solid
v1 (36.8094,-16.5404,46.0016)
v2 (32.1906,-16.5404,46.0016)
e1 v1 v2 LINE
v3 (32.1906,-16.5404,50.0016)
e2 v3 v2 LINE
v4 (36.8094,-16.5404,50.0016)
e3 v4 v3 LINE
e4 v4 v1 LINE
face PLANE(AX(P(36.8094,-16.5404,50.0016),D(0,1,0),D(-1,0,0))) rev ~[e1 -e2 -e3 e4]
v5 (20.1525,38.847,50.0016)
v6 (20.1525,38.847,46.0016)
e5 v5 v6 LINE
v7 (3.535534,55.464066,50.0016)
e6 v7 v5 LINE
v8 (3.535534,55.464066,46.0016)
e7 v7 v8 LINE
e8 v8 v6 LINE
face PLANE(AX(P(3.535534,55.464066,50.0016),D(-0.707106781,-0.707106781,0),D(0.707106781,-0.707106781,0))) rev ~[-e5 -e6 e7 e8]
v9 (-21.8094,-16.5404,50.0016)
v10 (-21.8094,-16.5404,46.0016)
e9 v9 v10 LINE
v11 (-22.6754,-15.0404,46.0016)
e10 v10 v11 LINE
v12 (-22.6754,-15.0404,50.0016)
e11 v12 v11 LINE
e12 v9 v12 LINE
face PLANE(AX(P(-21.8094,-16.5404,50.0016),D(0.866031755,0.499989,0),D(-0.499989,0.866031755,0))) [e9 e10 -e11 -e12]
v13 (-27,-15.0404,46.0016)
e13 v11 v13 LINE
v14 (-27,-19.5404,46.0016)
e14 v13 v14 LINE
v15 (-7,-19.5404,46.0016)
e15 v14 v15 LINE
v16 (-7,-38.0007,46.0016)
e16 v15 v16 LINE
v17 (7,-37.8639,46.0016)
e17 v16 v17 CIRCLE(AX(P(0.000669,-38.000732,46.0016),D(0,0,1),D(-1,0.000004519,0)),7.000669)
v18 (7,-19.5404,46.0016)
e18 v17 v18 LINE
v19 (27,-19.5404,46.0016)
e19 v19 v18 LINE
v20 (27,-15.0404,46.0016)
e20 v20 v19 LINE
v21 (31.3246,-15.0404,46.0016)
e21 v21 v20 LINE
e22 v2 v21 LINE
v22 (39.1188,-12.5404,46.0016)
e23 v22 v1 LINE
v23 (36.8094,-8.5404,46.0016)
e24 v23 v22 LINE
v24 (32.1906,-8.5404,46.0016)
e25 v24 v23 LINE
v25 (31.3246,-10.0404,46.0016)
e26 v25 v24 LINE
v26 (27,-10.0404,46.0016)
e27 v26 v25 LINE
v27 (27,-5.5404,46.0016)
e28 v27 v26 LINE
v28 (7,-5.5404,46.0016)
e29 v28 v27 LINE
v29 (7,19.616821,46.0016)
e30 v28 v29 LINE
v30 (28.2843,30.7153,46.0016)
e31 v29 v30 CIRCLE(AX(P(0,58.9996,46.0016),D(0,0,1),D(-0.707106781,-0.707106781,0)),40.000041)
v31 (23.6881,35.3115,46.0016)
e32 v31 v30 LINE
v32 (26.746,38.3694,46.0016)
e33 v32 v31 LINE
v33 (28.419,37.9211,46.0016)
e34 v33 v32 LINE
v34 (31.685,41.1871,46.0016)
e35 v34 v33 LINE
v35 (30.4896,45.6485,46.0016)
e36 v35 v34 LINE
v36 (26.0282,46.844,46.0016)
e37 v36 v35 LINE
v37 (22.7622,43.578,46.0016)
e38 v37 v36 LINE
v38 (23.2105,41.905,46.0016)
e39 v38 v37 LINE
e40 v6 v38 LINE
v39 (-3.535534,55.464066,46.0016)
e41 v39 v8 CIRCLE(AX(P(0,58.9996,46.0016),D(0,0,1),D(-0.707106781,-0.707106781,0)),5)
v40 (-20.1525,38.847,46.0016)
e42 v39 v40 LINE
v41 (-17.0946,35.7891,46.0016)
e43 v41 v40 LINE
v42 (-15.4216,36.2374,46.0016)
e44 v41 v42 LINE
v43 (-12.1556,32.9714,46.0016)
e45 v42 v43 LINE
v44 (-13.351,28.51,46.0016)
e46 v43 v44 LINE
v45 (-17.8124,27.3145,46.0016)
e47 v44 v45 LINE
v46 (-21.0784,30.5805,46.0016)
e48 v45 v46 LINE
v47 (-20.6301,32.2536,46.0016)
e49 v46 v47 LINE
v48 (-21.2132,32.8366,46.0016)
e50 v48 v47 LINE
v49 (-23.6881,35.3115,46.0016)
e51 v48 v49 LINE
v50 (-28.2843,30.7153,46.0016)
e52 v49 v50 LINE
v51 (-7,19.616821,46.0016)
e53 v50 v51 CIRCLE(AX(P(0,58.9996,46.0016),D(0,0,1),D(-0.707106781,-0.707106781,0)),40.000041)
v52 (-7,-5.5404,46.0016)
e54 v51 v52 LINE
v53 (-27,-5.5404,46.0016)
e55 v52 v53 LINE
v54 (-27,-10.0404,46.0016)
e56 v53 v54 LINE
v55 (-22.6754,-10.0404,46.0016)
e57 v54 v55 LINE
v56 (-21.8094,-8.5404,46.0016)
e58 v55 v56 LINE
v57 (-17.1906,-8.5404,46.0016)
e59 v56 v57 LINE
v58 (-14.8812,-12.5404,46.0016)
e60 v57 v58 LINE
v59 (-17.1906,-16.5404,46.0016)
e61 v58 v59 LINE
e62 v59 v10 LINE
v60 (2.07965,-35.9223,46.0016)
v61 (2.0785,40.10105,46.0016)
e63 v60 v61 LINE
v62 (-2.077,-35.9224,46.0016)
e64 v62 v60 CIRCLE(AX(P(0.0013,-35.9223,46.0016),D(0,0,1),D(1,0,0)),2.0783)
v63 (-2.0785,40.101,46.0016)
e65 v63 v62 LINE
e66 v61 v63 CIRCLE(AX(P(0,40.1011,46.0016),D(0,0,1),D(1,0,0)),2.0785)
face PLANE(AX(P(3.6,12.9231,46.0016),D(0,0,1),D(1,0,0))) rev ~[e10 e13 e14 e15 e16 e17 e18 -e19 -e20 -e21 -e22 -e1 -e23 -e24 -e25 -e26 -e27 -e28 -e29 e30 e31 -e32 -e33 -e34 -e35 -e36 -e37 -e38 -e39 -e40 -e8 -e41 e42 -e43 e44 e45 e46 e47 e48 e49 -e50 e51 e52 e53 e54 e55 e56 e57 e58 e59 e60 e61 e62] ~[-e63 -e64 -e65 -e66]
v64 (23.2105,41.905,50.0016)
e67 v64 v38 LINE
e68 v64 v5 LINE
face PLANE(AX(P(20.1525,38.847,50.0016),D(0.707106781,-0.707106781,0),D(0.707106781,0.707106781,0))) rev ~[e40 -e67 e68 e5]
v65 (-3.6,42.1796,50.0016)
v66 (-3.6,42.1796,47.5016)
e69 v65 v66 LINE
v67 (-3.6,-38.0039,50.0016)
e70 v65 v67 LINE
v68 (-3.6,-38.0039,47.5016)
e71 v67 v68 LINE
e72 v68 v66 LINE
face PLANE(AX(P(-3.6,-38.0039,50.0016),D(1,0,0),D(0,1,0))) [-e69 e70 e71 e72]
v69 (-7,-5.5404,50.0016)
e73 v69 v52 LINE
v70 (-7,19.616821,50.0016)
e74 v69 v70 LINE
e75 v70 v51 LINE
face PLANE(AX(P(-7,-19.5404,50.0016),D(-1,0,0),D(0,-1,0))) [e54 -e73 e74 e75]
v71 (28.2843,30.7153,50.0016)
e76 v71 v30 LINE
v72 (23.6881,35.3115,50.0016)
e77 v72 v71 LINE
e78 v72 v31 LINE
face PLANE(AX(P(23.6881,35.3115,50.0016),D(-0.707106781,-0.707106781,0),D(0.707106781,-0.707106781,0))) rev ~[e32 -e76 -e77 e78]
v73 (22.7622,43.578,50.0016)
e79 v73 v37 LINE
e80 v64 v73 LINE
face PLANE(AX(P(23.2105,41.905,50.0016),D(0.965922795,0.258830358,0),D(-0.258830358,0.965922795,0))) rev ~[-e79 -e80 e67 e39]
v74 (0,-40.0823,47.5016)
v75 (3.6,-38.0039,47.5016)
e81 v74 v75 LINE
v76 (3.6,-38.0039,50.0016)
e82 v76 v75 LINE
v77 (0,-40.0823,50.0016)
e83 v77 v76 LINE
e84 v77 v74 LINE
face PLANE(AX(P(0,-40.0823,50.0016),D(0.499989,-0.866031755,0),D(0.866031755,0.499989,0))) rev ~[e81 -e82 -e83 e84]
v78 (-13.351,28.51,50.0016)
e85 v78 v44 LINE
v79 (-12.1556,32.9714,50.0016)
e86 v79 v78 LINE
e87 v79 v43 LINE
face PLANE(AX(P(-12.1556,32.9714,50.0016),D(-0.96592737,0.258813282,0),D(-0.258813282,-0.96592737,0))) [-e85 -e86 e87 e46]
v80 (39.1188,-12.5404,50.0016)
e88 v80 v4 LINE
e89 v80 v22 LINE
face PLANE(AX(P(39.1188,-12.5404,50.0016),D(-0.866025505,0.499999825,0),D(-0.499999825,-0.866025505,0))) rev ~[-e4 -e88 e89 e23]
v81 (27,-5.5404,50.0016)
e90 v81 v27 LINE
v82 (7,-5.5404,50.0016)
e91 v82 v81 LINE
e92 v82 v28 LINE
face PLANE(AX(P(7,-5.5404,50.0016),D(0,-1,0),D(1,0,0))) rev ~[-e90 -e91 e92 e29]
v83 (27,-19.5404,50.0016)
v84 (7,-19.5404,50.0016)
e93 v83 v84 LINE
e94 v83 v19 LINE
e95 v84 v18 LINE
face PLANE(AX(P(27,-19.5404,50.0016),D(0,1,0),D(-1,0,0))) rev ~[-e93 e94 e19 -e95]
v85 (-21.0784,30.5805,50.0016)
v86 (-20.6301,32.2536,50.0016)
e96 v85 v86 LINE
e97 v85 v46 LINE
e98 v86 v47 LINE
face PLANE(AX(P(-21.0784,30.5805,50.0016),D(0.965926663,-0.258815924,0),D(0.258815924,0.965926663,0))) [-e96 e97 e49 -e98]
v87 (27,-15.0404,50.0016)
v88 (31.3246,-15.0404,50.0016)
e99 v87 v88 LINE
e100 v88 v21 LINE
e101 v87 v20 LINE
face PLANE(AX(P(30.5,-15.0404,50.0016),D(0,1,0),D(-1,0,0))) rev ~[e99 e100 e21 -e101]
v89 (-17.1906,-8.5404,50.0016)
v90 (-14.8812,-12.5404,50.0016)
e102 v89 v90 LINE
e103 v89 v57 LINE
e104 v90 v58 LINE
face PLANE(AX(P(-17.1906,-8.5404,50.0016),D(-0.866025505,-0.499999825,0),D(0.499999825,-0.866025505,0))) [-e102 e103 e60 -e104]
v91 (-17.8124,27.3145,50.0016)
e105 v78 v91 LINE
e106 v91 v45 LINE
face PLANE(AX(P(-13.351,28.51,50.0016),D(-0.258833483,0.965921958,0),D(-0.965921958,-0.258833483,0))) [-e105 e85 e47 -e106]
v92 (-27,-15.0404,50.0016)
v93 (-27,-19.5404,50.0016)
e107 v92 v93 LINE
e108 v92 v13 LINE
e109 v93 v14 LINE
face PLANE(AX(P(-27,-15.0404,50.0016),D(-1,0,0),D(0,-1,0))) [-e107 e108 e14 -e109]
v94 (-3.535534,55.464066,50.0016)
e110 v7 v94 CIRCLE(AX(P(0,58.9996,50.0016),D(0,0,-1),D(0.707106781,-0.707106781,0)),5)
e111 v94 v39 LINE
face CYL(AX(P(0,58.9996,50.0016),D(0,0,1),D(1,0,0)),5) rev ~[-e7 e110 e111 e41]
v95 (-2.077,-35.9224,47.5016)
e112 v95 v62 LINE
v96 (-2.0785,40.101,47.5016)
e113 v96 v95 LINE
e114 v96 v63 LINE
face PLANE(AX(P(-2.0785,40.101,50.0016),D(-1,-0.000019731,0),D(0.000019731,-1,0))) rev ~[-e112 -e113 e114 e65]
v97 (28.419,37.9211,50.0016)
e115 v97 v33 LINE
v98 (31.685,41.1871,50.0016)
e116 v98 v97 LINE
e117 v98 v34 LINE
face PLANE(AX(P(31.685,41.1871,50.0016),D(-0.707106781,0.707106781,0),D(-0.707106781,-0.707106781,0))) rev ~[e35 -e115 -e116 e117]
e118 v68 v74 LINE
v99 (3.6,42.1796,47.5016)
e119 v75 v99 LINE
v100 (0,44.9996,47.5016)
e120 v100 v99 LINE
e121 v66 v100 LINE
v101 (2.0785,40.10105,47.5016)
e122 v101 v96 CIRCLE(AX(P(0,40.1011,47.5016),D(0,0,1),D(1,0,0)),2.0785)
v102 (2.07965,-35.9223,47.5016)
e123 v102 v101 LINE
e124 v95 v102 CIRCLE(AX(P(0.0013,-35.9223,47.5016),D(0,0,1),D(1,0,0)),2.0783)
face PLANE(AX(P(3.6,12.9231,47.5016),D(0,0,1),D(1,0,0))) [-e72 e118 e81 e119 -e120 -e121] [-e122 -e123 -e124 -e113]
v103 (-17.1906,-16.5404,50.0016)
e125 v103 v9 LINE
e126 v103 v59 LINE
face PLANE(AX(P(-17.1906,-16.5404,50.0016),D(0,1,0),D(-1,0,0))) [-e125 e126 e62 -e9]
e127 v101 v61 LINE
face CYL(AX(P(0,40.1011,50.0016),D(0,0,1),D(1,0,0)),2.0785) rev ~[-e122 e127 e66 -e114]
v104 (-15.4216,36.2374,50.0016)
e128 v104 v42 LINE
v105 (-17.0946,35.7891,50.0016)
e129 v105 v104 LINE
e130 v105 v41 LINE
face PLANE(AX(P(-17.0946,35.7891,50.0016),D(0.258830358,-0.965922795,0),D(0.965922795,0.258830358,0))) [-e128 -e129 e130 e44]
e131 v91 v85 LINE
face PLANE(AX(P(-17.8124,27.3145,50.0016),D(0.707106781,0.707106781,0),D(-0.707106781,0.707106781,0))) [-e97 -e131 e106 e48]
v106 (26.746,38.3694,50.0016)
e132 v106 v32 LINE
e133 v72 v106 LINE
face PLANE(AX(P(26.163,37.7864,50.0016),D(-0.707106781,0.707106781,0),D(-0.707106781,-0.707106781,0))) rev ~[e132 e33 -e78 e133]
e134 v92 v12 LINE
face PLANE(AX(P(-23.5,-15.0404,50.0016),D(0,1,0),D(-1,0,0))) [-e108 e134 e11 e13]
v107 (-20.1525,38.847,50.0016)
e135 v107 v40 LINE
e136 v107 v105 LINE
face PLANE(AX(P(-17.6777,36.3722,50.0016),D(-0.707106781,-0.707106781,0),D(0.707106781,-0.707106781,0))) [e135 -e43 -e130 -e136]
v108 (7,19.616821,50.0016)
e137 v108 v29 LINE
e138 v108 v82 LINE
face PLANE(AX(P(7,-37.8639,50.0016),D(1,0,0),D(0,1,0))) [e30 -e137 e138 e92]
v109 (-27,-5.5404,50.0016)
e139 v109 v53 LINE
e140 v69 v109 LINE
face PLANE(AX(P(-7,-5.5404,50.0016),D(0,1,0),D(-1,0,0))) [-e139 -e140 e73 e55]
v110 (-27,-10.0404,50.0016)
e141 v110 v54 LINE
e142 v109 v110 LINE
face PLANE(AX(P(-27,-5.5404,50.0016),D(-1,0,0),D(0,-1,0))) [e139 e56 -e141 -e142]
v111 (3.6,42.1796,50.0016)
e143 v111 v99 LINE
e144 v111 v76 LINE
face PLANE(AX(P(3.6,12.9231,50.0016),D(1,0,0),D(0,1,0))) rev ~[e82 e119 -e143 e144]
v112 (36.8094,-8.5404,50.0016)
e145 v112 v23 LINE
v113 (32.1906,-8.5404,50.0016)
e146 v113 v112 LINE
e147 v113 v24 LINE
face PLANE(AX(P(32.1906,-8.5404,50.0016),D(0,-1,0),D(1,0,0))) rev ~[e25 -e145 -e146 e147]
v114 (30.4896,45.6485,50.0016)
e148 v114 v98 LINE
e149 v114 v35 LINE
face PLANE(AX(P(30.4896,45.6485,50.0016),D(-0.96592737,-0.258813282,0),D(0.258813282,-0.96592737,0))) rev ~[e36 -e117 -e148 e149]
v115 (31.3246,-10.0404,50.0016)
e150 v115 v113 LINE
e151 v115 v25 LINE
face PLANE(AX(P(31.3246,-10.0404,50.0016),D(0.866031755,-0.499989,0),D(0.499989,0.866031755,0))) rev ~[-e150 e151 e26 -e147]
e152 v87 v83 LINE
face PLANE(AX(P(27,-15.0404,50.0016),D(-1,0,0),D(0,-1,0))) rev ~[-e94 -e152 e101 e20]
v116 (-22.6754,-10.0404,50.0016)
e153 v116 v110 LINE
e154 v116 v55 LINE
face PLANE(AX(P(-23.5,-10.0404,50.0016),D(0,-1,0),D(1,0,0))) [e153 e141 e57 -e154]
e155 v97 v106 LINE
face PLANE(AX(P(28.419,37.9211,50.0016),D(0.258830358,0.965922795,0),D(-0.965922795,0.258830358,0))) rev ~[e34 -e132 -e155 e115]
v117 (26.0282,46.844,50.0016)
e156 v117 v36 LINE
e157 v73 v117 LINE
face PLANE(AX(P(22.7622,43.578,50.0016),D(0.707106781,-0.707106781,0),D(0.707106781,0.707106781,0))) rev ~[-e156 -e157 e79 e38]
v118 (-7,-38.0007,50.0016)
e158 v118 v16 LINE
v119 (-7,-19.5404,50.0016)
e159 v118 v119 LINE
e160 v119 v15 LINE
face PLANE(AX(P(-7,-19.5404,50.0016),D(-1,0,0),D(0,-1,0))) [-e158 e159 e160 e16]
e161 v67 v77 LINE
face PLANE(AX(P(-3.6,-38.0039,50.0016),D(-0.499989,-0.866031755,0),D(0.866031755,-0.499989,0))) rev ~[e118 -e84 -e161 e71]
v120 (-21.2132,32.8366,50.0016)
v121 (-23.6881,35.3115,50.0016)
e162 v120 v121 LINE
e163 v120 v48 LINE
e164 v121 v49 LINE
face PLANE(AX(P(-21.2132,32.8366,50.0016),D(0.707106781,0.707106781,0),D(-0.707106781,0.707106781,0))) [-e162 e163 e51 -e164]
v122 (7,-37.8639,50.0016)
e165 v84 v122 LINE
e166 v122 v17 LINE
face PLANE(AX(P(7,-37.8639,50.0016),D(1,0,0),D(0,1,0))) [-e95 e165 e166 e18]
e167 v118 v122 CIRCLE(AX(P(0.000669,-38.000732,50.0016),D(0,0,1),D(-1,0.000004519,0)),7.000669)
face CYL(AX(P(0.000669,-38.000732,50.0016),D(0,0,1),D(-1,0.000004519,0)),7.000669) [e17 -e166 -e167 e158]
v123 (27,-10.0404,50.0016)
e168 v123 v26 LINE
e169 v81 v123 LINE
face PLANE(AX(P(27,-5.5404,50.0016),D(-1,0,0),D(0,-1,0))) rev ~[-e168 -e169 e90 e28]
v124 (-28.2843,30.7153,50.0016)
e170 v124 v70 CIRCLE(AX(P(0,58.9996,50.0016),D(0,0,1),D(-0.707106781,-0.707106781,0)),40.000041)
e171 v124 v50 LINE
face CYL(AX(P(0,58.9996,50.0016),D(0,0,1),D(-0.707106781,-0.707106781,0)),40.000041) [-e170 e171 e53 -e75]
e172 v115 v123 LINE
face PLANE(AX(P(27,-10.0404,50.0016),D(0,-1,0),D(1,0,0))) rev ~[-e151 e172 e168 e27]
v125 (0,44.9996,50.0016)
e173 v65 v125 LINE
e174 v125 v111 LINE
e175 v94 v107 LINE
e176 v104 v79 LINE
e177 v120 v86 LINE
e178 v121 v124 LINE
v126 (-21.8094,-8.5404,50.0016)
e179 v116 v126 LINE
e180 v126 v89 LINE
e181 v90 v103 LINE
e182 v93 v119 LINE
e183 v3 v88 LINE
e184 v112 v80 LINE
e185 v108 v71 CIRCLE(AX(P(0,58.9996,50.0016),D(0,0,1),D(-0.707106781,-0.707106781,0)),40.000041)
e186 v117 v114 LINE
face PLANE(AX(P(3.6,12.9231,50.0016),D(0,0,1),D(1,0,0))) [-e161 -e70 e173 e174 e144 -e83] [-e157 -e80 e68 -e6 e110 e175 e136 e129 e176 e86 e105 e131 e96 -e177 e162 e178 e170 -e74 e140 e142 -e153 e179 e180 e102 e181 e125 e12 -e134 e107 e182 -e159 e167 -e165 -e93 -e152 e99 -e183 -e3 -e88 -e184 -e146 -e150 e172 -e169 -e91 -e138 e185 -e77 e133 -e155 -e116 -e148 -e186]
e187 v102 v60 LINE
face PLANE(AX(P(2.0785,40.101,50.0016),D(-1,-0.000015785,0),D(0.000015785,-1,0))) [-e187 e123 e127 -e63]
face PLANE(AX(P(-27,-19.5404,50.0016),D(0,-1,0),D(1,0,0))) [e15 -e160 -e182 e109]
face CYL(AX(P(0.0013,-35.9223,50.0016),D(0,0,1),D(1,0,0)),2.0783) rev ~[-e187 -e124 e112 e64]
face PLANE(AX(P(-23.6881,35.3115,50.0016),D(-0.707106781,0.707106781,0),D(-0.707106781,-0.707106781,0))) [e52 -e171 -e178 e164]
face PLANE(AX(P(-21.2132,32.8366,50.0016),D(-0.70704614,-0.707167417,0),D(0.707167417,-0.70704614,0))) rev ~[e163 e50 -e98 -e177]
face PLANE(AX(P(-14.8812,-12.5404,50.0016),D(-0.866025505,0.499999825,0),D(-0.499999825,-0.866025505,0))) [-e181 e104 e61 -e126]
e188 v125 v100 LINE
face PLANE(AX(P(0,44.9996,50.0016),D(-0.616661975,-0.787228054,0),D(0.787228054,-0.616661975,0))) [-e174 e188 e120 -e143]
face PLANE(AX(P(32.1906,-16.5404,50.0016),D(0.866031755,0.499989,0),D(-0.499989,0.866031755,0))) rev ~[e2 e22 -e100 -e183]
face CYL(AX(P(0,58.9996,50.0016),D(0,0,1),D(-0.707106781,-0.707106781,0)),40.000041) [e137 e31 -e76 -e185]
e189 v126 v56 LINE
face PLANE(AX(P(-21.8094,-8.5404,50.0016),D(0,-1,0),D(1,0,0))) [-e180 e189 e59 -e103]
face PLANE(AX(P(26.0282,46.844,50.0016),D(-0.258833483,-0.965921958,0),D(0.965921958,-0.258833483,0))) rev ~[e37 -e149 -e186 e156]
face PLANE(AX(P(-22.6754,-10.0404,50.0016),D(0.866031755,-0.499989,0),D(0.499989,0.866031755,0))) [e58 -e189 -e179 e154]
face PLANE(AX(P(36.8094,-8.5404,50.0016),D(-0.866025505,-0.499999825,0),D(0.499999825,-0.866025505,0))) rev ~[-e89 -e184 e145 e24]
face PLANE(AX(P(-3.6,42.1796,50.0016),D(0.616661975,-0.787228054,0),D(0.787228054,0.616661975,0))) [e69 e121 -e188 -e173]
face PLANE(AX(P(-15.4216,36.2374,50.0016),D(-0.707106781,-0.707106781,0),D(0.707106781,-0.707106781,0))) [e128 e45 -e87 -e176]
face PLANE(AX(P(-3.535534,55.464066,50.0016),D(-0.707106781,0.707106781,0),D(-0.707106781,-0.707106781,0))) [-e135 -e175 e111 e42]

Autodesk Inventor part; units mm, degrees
ref_plane "YZ Plane" through (0, 0, 0) normal (1, 0, 0) x (0, 1, 0)
ref_plane "XZ Plane" through (0, 0, 0) normal (0, 1, 0) x (-1, 0, 0)
ref_plane "XY Plane" through (0, 0, 0) normal (0, 0, 1) x (1, 0, 0)
sketch "Náčrt1" plane through (3.6, 12.9231, 50.0016) normal (0, 0, 1) x (1, 0, 0)
  line L0 (3.4, -51.2206) -> (3.4, 32.0765) projected
  line L1 (-10.6, 32.0765) -> (-10.6, -51.2206) projected
  line L2 (3.4, 32.0765) -> (-10.6, 32.0765) projected
  circle A0 centre (-3.5987, -48.8454) radius 2.0783 projected
  line L3 (0, -50.927) -> (0, 0) projected
  line L4 (-3.6, -53.0054) -> (0, -50.927) projected
  line L5 (-7.2, -50.927) -> (-3.6, -53.0054) projected
  arc A1 (-10.6, -50.9238) -> (3.4, -50.787) centre (-3.5993, -50.9238) ccw
  line L6 (3.4, -25.4635) -> (3.4, -18.4635)
  line L7 (3.4, -18.4635) -> (23.4, -18.4635)
  line L8 (23.4, -18.4635) -> (23.4, -32.4635)
  line L9 (23.4, -32.4635) -> (3.4, -32.4635)
  line L10 (3.4, -25.4635) -> (3.4, -32.4635)
  line L11 (23.4, -25.4635) -> (23.4, -22.9635)
  line L12 (23.4, -22.9635) -> (26.9, -22.9635)
  line L13 (26.9, -22.9635) -> (26.9, -27.9635)
  line L14 (26.9, -27.9635) -> (23.4, -27.9635)
  line L15 (23.4, -25.4635) -> (23.4, -27.9635)
  line L16 (35.5188, -25.4635) -> (33.2094, -29.4635)
  line L17 (33.2094, -29.4635) -> (28.5906, -29.4635)
  line L18 (28.5906, -29.4635) -> (27.7246, -27.9635)
  line L19 (27.7246, -22.9635) -> (28.5906, -21.4635)
  line L20 (28.5906, -21.4635) -> (33.2094, -21.4635)
  line L21 (33.2094, -21.4635) -> (35.5188, -25.4635)
  line L22 (26.9, -22.9635) -> (27.7246, -22.9635)
  line L23 (26.9, -27.9635) -> (27.7246, -27.9635)
  line L24 (-10.6, -25.4635) -> (-10.6, -18.4635)
  line L25 (-10.6, -18.4635) -> (-30.6, -18.4635)
  line L26 (-30.6, -18.4635) -> (-30.6, -32.4635)
  line L27 (-30.6, -32.4635) -> (-10.6, -32.4635)
  line L28 (-10.6, -25.4635) -> (-10.6, -32.4635)
  line L29 (-30.6, -25.4635) -> (-30.6, -22.9635)
  line L30 (-30.6, -25.4635) -> (-30.6, -27.9635)
  line L31 (-27.1, -27.9635) -> (-30.6, -27.9635)
  line L32 (-30.6, -22.9635) -> (-27.1, -22.9635)
  line L33 (-27.1, -22.9635) -> (-27.1, -27.9635)
  line L34 (-27.1, -22.9635) -> (-26.2754, -22.9635)
  line L35 (-27.1, -27.9635) -> (-26.2754, -27.9635)
  line L36 (-25.4094, -29.4635) -> (-26.2754, -27.9635)
  line L37 (-26.2754, -22.9635) -> (-25.4094, -21.4635)
  line L38 (-20.7906, -29.4635) -> (-25.4094, -29.4635)
  line L39 (-25.4094, -21.4635) -> (-20.7906, -21.4635)
  line L40 (-18.4812, -25.4635) -> (-20.7906, -29.4635)
  line L41 (-20.7906, -21.4635) -> (-18.4812, -25.4635)
  line L42 (-3.6, 32.0765) -> (-3.6, 46.0765)
  arc A2 (-31.8843, 17.7922) -> (24.6843, 17.7922) centre (-3.6, 46.0765) ccw
  line L43 (-3.6, 46.0765) -> (-31.8843, 17.7922)
  line L44 (-3.6, 46.0765) -> (24.6843, 17.7922)
  line L45 (-3.6, 46.0765) -> (48.0562, 46.0765) construction
  line L46 (-25.5203, 24.1562) -> (-23.7525, 25.9239)
  line L47 (-25.5203, 24.1562) -> (-27.2881, 22.3884)
  line L48 (-24.8132, 19.9135) -> (-27.2881, 22.3884)
  line L49 (-23.7525, 25.9239) -> (-21.2777, 23.4491)
  line L50 (-21.2777, 23.4491) -> (-24.8132, 19.9135)
  line L51 (-21.2777, 23.4491) -> (-20.6946, 22.866)
  line L52 (-24.8132, 19.9135) -> (-24.2301, 19.3305)
  line L53 (-20.6946, 22.866) -> (-19.0216, 23.3143)
  line L54 (-24.6784, 17.6574) -> (-24.2301, 19.3305)
  line L55 (-19.0216, 23.3143) -> (-15.7556, 20.0483)
  line L56 (-16.951, 15.5869) -> (-21.4124, 14.3914)
  line L57 (-15.7556, 20.0483) -> (-16.951, 15.5869)
  line L58 (-21.4124, 14.3914) -> (-24.6784, 17.6574)
  line L59 (26.8896, 32.7254) -> (28.085, 28.264)
  line L60 (22.4282, 33.9209) -> (26.8896, 32.7254)
  line L61 (28.085, 28.264) -> (24.819, 24.998)
  line L62 (19.1622, 30.6549) -> (22.4282, 33.9209)
  line L63 (18.3203, 24.1562) -> (16.5525, 25.9239)
  line L64 (19.6105, 28.9819) -> (19.1622, 30.6549)
  line L65 (24.819, 24.998) -> (23.146, 25.4463)
  line L66 (19.0274, 28.3988) -> (19.6105, 28.9819)
  line L67 (19.0274, 28.3988) -> (22.563, 24.8633)
  line L68 (22.563, 24.8633) -> (23.146, 25.4463)
  line L69 (22.563, 24.8633) -> (20.0881, 22.3884)
  line L70 (18.3203, 24.1562) -> (20.0881, 22.3884)
  line L71 (16.5525, 25.9239) -> (19.0274, 28.3988)
  line L72 (24.6843, 17.7922) -> (18.3203, 24.1562)
  circle A3 centre (-3.6, 46.0765) radius 5
  line L73 (-7.2, -50.927) -> (-7.2, 32.0765)
  line L74 (0, -50.927) -> (0, 32.0765)
  line L75 (-7.2, 29.2565) -> (-3.6, 32.0765)
  line L76 (-3.6, 32.0765) -> (0, 29.2565)
  line L77 (-3.6, 29.2565) -> (-1.5215, 29.2565) construction
  circle A4 centre (-3.6, 27.178) radius 2.0785
  line L78 (-5.6785, 27.1779) -> (-5.677, -48.8455)
  line L79 (-1.5215, 27.1779) -> (-1.5203, -48.8454)
  point P0 (30.9, -25.4635)
  point P1 (26.9, -25.4635)
  point P2 (-27.1, -25.4635)
  point P3 (-23.1, -25.4635)
  point P4 (-23.0454, 21.6813)
  point P5 (-20.217, 18.8529)
  point P6 (23.4958, 25.7125)
  point P7 (23.6236, 29.4595)
  point P8 (20.7952, 26.631)
  point P9 (-10.6, 6.6937)
  point P10 (3.4, 6.6937)
  point P11 (16.5525, 25.9239)
  point P12 (-0.0645, 42.5409)
  point P13 (-7.1355, 42.5409)
  dimension "d4" = 7
  dimension "d5" = 20
  dimension "k" = 14
  dimension "d9" = 3.5
  dimension "d10" = 5
  dimension "d14" = 8
  dimension "d15" = 4
  dimension "d16" = 7
  dimension "d19" = 14
  dimension "d21" = 45
  dimension "d22" = 40
  dimension "d24" = 10
  dimension "d34" = 4.1567
  dimension "d35" = 2.0817
  dimension "d36" = 2.82
extrude "Vysunutí1" add sketch "Náčrt1" against normal blind 4 contours A1 L1 A2 L73 L5 L4 L3 L74 L0 | A2 L74 L2 L0 | L74 L3 L4 L5 L73 A2 L78 A0 L79 | A2 L79 A4 L78 L73 L75 L76 L74 | L1 L2 L73 A2 | L74 L76 L2 | L79 A0 L78 A2 | A2 L78 A4 L79 | L75 L73 L2 | A4 | A0
extrude "Vysunutí2" cut sketch "Náčrt1" against normal blind 2.5 contours L74 L3 L4 L5 L73 A2 L78 A0 L79 | A2 L79 A4 L78 L73 L75 L76 L74 | L79 A0 L78 A2 | A2 L78 A4 L79 | A4 | A0
extrude "Vysunutí3" add sketch "Náčrt1" against normal blind 4 contours L0 L7 L8 L9 | L27 L26 L31 L35 L36 L38 L40 L41 L39 L37 L34 L32 L25 L1 | L8 L12 L13 L14 | L13 L22 L19 L20 L21 L16 L17 L18 L23
extrude "Vysunutí4" add sketch "Náčrt1" against normal blind 4 contours L0 L2 L42 A3 L44 A2 | A2 L43 L48 L52 L54 L58 L56 L57 L55 L53 L51 L49 A3 L42 L2 L1 | L44 L71 L67 L69 | L67 L66 L64 L62 L60 L59 L61 L65 L68
sketch "Náčrt2" plane through (3.6, 12.9231, 50.0016) normal (0, 0, 1) x (1, 0, 0)
  line L0 (-7.2, 0) -> (-3.6, 2.0785) projected
  line L1 (-3.6, 2.0785) -> (0, 0) projected
  arc A0 (-1.525, -2.1008) -> (-5.675, -2.1796) centre (-3.6012, -2.0791) ccw projected
  line L2 (-5.675, -2.1796) -> (-5.675, -48.7542) projected
  line L3 (-1.525, -48.7062) -> (-1.525, -2.1008) projected
  arc A1 (-5.675, -48.7542) -> (-1.525, -48.7062) centre (-3.5987, -48.8454) ccw projected
  line L4 (-3.6, -53.0054) -> (-7.2, -50.927) projected
  line L5 (-7.2, -50.927) -> (-7.2, 0) projected
  line L6 (0, -50.927) -> (-3.6, -53.0054) projected
  line L7 (0, 29.2565) -> (0, -50.927) projected
  line L8 (-7.2, 35) -> (-3.6, 37.0785)
  line L9 (-3.6, 37.0785) -> (0, 35)
  line L10 (-7.2, 0) -> (-7.2, 35)
  line L11 (0, 0) -> (0, 35)
  circle A2 centre (-3.6012, -2.0791) radius 2.0763
  circle A3 centre (-3.601, 32.9202) radius 2.0763
  line L12 (-3.6406, -0.0032) -> (-3.6, 2.0785)
  line L13 (-5.675, -2.1796) -> (-5.6773, 32.9201)
  line L14 (-1.525, -2.1008) -> (-1.5247, 32.9202)
  line L15 (-7.2, 0) -> (-5.6752, 0.8803)
  line L16 (-5.6752, 0.8803) -> (-3.6, 2.0785)
  line L17 (-3.6, 2.0785) -> (-1.525, 0.8804)
  line L18 (-1.525, 0.8804) -> (0, 0)
  point P0 (-3.6, -12.9231)
  dimension "d27" = 35
  dimension "d28" = 37.0817
  dimension "d" = 4.1525
  dimension "d30" = 4.1525
  dimension "d31" = 4.1583
  dimension "d32" = 3.6012
  dimension "d33" = 3.601
extrude "Vysunutí5" cut sketch "Náčrt1" against normal through all contours L79 A0 L78 A2 | A2 L78 A4 L79 | A4 | A0
equation "\"d16\" = 0.5 * k"
equation "\"d30\" = d"
properties part number "New_08_Crane_Arm_Vertical_XL"
